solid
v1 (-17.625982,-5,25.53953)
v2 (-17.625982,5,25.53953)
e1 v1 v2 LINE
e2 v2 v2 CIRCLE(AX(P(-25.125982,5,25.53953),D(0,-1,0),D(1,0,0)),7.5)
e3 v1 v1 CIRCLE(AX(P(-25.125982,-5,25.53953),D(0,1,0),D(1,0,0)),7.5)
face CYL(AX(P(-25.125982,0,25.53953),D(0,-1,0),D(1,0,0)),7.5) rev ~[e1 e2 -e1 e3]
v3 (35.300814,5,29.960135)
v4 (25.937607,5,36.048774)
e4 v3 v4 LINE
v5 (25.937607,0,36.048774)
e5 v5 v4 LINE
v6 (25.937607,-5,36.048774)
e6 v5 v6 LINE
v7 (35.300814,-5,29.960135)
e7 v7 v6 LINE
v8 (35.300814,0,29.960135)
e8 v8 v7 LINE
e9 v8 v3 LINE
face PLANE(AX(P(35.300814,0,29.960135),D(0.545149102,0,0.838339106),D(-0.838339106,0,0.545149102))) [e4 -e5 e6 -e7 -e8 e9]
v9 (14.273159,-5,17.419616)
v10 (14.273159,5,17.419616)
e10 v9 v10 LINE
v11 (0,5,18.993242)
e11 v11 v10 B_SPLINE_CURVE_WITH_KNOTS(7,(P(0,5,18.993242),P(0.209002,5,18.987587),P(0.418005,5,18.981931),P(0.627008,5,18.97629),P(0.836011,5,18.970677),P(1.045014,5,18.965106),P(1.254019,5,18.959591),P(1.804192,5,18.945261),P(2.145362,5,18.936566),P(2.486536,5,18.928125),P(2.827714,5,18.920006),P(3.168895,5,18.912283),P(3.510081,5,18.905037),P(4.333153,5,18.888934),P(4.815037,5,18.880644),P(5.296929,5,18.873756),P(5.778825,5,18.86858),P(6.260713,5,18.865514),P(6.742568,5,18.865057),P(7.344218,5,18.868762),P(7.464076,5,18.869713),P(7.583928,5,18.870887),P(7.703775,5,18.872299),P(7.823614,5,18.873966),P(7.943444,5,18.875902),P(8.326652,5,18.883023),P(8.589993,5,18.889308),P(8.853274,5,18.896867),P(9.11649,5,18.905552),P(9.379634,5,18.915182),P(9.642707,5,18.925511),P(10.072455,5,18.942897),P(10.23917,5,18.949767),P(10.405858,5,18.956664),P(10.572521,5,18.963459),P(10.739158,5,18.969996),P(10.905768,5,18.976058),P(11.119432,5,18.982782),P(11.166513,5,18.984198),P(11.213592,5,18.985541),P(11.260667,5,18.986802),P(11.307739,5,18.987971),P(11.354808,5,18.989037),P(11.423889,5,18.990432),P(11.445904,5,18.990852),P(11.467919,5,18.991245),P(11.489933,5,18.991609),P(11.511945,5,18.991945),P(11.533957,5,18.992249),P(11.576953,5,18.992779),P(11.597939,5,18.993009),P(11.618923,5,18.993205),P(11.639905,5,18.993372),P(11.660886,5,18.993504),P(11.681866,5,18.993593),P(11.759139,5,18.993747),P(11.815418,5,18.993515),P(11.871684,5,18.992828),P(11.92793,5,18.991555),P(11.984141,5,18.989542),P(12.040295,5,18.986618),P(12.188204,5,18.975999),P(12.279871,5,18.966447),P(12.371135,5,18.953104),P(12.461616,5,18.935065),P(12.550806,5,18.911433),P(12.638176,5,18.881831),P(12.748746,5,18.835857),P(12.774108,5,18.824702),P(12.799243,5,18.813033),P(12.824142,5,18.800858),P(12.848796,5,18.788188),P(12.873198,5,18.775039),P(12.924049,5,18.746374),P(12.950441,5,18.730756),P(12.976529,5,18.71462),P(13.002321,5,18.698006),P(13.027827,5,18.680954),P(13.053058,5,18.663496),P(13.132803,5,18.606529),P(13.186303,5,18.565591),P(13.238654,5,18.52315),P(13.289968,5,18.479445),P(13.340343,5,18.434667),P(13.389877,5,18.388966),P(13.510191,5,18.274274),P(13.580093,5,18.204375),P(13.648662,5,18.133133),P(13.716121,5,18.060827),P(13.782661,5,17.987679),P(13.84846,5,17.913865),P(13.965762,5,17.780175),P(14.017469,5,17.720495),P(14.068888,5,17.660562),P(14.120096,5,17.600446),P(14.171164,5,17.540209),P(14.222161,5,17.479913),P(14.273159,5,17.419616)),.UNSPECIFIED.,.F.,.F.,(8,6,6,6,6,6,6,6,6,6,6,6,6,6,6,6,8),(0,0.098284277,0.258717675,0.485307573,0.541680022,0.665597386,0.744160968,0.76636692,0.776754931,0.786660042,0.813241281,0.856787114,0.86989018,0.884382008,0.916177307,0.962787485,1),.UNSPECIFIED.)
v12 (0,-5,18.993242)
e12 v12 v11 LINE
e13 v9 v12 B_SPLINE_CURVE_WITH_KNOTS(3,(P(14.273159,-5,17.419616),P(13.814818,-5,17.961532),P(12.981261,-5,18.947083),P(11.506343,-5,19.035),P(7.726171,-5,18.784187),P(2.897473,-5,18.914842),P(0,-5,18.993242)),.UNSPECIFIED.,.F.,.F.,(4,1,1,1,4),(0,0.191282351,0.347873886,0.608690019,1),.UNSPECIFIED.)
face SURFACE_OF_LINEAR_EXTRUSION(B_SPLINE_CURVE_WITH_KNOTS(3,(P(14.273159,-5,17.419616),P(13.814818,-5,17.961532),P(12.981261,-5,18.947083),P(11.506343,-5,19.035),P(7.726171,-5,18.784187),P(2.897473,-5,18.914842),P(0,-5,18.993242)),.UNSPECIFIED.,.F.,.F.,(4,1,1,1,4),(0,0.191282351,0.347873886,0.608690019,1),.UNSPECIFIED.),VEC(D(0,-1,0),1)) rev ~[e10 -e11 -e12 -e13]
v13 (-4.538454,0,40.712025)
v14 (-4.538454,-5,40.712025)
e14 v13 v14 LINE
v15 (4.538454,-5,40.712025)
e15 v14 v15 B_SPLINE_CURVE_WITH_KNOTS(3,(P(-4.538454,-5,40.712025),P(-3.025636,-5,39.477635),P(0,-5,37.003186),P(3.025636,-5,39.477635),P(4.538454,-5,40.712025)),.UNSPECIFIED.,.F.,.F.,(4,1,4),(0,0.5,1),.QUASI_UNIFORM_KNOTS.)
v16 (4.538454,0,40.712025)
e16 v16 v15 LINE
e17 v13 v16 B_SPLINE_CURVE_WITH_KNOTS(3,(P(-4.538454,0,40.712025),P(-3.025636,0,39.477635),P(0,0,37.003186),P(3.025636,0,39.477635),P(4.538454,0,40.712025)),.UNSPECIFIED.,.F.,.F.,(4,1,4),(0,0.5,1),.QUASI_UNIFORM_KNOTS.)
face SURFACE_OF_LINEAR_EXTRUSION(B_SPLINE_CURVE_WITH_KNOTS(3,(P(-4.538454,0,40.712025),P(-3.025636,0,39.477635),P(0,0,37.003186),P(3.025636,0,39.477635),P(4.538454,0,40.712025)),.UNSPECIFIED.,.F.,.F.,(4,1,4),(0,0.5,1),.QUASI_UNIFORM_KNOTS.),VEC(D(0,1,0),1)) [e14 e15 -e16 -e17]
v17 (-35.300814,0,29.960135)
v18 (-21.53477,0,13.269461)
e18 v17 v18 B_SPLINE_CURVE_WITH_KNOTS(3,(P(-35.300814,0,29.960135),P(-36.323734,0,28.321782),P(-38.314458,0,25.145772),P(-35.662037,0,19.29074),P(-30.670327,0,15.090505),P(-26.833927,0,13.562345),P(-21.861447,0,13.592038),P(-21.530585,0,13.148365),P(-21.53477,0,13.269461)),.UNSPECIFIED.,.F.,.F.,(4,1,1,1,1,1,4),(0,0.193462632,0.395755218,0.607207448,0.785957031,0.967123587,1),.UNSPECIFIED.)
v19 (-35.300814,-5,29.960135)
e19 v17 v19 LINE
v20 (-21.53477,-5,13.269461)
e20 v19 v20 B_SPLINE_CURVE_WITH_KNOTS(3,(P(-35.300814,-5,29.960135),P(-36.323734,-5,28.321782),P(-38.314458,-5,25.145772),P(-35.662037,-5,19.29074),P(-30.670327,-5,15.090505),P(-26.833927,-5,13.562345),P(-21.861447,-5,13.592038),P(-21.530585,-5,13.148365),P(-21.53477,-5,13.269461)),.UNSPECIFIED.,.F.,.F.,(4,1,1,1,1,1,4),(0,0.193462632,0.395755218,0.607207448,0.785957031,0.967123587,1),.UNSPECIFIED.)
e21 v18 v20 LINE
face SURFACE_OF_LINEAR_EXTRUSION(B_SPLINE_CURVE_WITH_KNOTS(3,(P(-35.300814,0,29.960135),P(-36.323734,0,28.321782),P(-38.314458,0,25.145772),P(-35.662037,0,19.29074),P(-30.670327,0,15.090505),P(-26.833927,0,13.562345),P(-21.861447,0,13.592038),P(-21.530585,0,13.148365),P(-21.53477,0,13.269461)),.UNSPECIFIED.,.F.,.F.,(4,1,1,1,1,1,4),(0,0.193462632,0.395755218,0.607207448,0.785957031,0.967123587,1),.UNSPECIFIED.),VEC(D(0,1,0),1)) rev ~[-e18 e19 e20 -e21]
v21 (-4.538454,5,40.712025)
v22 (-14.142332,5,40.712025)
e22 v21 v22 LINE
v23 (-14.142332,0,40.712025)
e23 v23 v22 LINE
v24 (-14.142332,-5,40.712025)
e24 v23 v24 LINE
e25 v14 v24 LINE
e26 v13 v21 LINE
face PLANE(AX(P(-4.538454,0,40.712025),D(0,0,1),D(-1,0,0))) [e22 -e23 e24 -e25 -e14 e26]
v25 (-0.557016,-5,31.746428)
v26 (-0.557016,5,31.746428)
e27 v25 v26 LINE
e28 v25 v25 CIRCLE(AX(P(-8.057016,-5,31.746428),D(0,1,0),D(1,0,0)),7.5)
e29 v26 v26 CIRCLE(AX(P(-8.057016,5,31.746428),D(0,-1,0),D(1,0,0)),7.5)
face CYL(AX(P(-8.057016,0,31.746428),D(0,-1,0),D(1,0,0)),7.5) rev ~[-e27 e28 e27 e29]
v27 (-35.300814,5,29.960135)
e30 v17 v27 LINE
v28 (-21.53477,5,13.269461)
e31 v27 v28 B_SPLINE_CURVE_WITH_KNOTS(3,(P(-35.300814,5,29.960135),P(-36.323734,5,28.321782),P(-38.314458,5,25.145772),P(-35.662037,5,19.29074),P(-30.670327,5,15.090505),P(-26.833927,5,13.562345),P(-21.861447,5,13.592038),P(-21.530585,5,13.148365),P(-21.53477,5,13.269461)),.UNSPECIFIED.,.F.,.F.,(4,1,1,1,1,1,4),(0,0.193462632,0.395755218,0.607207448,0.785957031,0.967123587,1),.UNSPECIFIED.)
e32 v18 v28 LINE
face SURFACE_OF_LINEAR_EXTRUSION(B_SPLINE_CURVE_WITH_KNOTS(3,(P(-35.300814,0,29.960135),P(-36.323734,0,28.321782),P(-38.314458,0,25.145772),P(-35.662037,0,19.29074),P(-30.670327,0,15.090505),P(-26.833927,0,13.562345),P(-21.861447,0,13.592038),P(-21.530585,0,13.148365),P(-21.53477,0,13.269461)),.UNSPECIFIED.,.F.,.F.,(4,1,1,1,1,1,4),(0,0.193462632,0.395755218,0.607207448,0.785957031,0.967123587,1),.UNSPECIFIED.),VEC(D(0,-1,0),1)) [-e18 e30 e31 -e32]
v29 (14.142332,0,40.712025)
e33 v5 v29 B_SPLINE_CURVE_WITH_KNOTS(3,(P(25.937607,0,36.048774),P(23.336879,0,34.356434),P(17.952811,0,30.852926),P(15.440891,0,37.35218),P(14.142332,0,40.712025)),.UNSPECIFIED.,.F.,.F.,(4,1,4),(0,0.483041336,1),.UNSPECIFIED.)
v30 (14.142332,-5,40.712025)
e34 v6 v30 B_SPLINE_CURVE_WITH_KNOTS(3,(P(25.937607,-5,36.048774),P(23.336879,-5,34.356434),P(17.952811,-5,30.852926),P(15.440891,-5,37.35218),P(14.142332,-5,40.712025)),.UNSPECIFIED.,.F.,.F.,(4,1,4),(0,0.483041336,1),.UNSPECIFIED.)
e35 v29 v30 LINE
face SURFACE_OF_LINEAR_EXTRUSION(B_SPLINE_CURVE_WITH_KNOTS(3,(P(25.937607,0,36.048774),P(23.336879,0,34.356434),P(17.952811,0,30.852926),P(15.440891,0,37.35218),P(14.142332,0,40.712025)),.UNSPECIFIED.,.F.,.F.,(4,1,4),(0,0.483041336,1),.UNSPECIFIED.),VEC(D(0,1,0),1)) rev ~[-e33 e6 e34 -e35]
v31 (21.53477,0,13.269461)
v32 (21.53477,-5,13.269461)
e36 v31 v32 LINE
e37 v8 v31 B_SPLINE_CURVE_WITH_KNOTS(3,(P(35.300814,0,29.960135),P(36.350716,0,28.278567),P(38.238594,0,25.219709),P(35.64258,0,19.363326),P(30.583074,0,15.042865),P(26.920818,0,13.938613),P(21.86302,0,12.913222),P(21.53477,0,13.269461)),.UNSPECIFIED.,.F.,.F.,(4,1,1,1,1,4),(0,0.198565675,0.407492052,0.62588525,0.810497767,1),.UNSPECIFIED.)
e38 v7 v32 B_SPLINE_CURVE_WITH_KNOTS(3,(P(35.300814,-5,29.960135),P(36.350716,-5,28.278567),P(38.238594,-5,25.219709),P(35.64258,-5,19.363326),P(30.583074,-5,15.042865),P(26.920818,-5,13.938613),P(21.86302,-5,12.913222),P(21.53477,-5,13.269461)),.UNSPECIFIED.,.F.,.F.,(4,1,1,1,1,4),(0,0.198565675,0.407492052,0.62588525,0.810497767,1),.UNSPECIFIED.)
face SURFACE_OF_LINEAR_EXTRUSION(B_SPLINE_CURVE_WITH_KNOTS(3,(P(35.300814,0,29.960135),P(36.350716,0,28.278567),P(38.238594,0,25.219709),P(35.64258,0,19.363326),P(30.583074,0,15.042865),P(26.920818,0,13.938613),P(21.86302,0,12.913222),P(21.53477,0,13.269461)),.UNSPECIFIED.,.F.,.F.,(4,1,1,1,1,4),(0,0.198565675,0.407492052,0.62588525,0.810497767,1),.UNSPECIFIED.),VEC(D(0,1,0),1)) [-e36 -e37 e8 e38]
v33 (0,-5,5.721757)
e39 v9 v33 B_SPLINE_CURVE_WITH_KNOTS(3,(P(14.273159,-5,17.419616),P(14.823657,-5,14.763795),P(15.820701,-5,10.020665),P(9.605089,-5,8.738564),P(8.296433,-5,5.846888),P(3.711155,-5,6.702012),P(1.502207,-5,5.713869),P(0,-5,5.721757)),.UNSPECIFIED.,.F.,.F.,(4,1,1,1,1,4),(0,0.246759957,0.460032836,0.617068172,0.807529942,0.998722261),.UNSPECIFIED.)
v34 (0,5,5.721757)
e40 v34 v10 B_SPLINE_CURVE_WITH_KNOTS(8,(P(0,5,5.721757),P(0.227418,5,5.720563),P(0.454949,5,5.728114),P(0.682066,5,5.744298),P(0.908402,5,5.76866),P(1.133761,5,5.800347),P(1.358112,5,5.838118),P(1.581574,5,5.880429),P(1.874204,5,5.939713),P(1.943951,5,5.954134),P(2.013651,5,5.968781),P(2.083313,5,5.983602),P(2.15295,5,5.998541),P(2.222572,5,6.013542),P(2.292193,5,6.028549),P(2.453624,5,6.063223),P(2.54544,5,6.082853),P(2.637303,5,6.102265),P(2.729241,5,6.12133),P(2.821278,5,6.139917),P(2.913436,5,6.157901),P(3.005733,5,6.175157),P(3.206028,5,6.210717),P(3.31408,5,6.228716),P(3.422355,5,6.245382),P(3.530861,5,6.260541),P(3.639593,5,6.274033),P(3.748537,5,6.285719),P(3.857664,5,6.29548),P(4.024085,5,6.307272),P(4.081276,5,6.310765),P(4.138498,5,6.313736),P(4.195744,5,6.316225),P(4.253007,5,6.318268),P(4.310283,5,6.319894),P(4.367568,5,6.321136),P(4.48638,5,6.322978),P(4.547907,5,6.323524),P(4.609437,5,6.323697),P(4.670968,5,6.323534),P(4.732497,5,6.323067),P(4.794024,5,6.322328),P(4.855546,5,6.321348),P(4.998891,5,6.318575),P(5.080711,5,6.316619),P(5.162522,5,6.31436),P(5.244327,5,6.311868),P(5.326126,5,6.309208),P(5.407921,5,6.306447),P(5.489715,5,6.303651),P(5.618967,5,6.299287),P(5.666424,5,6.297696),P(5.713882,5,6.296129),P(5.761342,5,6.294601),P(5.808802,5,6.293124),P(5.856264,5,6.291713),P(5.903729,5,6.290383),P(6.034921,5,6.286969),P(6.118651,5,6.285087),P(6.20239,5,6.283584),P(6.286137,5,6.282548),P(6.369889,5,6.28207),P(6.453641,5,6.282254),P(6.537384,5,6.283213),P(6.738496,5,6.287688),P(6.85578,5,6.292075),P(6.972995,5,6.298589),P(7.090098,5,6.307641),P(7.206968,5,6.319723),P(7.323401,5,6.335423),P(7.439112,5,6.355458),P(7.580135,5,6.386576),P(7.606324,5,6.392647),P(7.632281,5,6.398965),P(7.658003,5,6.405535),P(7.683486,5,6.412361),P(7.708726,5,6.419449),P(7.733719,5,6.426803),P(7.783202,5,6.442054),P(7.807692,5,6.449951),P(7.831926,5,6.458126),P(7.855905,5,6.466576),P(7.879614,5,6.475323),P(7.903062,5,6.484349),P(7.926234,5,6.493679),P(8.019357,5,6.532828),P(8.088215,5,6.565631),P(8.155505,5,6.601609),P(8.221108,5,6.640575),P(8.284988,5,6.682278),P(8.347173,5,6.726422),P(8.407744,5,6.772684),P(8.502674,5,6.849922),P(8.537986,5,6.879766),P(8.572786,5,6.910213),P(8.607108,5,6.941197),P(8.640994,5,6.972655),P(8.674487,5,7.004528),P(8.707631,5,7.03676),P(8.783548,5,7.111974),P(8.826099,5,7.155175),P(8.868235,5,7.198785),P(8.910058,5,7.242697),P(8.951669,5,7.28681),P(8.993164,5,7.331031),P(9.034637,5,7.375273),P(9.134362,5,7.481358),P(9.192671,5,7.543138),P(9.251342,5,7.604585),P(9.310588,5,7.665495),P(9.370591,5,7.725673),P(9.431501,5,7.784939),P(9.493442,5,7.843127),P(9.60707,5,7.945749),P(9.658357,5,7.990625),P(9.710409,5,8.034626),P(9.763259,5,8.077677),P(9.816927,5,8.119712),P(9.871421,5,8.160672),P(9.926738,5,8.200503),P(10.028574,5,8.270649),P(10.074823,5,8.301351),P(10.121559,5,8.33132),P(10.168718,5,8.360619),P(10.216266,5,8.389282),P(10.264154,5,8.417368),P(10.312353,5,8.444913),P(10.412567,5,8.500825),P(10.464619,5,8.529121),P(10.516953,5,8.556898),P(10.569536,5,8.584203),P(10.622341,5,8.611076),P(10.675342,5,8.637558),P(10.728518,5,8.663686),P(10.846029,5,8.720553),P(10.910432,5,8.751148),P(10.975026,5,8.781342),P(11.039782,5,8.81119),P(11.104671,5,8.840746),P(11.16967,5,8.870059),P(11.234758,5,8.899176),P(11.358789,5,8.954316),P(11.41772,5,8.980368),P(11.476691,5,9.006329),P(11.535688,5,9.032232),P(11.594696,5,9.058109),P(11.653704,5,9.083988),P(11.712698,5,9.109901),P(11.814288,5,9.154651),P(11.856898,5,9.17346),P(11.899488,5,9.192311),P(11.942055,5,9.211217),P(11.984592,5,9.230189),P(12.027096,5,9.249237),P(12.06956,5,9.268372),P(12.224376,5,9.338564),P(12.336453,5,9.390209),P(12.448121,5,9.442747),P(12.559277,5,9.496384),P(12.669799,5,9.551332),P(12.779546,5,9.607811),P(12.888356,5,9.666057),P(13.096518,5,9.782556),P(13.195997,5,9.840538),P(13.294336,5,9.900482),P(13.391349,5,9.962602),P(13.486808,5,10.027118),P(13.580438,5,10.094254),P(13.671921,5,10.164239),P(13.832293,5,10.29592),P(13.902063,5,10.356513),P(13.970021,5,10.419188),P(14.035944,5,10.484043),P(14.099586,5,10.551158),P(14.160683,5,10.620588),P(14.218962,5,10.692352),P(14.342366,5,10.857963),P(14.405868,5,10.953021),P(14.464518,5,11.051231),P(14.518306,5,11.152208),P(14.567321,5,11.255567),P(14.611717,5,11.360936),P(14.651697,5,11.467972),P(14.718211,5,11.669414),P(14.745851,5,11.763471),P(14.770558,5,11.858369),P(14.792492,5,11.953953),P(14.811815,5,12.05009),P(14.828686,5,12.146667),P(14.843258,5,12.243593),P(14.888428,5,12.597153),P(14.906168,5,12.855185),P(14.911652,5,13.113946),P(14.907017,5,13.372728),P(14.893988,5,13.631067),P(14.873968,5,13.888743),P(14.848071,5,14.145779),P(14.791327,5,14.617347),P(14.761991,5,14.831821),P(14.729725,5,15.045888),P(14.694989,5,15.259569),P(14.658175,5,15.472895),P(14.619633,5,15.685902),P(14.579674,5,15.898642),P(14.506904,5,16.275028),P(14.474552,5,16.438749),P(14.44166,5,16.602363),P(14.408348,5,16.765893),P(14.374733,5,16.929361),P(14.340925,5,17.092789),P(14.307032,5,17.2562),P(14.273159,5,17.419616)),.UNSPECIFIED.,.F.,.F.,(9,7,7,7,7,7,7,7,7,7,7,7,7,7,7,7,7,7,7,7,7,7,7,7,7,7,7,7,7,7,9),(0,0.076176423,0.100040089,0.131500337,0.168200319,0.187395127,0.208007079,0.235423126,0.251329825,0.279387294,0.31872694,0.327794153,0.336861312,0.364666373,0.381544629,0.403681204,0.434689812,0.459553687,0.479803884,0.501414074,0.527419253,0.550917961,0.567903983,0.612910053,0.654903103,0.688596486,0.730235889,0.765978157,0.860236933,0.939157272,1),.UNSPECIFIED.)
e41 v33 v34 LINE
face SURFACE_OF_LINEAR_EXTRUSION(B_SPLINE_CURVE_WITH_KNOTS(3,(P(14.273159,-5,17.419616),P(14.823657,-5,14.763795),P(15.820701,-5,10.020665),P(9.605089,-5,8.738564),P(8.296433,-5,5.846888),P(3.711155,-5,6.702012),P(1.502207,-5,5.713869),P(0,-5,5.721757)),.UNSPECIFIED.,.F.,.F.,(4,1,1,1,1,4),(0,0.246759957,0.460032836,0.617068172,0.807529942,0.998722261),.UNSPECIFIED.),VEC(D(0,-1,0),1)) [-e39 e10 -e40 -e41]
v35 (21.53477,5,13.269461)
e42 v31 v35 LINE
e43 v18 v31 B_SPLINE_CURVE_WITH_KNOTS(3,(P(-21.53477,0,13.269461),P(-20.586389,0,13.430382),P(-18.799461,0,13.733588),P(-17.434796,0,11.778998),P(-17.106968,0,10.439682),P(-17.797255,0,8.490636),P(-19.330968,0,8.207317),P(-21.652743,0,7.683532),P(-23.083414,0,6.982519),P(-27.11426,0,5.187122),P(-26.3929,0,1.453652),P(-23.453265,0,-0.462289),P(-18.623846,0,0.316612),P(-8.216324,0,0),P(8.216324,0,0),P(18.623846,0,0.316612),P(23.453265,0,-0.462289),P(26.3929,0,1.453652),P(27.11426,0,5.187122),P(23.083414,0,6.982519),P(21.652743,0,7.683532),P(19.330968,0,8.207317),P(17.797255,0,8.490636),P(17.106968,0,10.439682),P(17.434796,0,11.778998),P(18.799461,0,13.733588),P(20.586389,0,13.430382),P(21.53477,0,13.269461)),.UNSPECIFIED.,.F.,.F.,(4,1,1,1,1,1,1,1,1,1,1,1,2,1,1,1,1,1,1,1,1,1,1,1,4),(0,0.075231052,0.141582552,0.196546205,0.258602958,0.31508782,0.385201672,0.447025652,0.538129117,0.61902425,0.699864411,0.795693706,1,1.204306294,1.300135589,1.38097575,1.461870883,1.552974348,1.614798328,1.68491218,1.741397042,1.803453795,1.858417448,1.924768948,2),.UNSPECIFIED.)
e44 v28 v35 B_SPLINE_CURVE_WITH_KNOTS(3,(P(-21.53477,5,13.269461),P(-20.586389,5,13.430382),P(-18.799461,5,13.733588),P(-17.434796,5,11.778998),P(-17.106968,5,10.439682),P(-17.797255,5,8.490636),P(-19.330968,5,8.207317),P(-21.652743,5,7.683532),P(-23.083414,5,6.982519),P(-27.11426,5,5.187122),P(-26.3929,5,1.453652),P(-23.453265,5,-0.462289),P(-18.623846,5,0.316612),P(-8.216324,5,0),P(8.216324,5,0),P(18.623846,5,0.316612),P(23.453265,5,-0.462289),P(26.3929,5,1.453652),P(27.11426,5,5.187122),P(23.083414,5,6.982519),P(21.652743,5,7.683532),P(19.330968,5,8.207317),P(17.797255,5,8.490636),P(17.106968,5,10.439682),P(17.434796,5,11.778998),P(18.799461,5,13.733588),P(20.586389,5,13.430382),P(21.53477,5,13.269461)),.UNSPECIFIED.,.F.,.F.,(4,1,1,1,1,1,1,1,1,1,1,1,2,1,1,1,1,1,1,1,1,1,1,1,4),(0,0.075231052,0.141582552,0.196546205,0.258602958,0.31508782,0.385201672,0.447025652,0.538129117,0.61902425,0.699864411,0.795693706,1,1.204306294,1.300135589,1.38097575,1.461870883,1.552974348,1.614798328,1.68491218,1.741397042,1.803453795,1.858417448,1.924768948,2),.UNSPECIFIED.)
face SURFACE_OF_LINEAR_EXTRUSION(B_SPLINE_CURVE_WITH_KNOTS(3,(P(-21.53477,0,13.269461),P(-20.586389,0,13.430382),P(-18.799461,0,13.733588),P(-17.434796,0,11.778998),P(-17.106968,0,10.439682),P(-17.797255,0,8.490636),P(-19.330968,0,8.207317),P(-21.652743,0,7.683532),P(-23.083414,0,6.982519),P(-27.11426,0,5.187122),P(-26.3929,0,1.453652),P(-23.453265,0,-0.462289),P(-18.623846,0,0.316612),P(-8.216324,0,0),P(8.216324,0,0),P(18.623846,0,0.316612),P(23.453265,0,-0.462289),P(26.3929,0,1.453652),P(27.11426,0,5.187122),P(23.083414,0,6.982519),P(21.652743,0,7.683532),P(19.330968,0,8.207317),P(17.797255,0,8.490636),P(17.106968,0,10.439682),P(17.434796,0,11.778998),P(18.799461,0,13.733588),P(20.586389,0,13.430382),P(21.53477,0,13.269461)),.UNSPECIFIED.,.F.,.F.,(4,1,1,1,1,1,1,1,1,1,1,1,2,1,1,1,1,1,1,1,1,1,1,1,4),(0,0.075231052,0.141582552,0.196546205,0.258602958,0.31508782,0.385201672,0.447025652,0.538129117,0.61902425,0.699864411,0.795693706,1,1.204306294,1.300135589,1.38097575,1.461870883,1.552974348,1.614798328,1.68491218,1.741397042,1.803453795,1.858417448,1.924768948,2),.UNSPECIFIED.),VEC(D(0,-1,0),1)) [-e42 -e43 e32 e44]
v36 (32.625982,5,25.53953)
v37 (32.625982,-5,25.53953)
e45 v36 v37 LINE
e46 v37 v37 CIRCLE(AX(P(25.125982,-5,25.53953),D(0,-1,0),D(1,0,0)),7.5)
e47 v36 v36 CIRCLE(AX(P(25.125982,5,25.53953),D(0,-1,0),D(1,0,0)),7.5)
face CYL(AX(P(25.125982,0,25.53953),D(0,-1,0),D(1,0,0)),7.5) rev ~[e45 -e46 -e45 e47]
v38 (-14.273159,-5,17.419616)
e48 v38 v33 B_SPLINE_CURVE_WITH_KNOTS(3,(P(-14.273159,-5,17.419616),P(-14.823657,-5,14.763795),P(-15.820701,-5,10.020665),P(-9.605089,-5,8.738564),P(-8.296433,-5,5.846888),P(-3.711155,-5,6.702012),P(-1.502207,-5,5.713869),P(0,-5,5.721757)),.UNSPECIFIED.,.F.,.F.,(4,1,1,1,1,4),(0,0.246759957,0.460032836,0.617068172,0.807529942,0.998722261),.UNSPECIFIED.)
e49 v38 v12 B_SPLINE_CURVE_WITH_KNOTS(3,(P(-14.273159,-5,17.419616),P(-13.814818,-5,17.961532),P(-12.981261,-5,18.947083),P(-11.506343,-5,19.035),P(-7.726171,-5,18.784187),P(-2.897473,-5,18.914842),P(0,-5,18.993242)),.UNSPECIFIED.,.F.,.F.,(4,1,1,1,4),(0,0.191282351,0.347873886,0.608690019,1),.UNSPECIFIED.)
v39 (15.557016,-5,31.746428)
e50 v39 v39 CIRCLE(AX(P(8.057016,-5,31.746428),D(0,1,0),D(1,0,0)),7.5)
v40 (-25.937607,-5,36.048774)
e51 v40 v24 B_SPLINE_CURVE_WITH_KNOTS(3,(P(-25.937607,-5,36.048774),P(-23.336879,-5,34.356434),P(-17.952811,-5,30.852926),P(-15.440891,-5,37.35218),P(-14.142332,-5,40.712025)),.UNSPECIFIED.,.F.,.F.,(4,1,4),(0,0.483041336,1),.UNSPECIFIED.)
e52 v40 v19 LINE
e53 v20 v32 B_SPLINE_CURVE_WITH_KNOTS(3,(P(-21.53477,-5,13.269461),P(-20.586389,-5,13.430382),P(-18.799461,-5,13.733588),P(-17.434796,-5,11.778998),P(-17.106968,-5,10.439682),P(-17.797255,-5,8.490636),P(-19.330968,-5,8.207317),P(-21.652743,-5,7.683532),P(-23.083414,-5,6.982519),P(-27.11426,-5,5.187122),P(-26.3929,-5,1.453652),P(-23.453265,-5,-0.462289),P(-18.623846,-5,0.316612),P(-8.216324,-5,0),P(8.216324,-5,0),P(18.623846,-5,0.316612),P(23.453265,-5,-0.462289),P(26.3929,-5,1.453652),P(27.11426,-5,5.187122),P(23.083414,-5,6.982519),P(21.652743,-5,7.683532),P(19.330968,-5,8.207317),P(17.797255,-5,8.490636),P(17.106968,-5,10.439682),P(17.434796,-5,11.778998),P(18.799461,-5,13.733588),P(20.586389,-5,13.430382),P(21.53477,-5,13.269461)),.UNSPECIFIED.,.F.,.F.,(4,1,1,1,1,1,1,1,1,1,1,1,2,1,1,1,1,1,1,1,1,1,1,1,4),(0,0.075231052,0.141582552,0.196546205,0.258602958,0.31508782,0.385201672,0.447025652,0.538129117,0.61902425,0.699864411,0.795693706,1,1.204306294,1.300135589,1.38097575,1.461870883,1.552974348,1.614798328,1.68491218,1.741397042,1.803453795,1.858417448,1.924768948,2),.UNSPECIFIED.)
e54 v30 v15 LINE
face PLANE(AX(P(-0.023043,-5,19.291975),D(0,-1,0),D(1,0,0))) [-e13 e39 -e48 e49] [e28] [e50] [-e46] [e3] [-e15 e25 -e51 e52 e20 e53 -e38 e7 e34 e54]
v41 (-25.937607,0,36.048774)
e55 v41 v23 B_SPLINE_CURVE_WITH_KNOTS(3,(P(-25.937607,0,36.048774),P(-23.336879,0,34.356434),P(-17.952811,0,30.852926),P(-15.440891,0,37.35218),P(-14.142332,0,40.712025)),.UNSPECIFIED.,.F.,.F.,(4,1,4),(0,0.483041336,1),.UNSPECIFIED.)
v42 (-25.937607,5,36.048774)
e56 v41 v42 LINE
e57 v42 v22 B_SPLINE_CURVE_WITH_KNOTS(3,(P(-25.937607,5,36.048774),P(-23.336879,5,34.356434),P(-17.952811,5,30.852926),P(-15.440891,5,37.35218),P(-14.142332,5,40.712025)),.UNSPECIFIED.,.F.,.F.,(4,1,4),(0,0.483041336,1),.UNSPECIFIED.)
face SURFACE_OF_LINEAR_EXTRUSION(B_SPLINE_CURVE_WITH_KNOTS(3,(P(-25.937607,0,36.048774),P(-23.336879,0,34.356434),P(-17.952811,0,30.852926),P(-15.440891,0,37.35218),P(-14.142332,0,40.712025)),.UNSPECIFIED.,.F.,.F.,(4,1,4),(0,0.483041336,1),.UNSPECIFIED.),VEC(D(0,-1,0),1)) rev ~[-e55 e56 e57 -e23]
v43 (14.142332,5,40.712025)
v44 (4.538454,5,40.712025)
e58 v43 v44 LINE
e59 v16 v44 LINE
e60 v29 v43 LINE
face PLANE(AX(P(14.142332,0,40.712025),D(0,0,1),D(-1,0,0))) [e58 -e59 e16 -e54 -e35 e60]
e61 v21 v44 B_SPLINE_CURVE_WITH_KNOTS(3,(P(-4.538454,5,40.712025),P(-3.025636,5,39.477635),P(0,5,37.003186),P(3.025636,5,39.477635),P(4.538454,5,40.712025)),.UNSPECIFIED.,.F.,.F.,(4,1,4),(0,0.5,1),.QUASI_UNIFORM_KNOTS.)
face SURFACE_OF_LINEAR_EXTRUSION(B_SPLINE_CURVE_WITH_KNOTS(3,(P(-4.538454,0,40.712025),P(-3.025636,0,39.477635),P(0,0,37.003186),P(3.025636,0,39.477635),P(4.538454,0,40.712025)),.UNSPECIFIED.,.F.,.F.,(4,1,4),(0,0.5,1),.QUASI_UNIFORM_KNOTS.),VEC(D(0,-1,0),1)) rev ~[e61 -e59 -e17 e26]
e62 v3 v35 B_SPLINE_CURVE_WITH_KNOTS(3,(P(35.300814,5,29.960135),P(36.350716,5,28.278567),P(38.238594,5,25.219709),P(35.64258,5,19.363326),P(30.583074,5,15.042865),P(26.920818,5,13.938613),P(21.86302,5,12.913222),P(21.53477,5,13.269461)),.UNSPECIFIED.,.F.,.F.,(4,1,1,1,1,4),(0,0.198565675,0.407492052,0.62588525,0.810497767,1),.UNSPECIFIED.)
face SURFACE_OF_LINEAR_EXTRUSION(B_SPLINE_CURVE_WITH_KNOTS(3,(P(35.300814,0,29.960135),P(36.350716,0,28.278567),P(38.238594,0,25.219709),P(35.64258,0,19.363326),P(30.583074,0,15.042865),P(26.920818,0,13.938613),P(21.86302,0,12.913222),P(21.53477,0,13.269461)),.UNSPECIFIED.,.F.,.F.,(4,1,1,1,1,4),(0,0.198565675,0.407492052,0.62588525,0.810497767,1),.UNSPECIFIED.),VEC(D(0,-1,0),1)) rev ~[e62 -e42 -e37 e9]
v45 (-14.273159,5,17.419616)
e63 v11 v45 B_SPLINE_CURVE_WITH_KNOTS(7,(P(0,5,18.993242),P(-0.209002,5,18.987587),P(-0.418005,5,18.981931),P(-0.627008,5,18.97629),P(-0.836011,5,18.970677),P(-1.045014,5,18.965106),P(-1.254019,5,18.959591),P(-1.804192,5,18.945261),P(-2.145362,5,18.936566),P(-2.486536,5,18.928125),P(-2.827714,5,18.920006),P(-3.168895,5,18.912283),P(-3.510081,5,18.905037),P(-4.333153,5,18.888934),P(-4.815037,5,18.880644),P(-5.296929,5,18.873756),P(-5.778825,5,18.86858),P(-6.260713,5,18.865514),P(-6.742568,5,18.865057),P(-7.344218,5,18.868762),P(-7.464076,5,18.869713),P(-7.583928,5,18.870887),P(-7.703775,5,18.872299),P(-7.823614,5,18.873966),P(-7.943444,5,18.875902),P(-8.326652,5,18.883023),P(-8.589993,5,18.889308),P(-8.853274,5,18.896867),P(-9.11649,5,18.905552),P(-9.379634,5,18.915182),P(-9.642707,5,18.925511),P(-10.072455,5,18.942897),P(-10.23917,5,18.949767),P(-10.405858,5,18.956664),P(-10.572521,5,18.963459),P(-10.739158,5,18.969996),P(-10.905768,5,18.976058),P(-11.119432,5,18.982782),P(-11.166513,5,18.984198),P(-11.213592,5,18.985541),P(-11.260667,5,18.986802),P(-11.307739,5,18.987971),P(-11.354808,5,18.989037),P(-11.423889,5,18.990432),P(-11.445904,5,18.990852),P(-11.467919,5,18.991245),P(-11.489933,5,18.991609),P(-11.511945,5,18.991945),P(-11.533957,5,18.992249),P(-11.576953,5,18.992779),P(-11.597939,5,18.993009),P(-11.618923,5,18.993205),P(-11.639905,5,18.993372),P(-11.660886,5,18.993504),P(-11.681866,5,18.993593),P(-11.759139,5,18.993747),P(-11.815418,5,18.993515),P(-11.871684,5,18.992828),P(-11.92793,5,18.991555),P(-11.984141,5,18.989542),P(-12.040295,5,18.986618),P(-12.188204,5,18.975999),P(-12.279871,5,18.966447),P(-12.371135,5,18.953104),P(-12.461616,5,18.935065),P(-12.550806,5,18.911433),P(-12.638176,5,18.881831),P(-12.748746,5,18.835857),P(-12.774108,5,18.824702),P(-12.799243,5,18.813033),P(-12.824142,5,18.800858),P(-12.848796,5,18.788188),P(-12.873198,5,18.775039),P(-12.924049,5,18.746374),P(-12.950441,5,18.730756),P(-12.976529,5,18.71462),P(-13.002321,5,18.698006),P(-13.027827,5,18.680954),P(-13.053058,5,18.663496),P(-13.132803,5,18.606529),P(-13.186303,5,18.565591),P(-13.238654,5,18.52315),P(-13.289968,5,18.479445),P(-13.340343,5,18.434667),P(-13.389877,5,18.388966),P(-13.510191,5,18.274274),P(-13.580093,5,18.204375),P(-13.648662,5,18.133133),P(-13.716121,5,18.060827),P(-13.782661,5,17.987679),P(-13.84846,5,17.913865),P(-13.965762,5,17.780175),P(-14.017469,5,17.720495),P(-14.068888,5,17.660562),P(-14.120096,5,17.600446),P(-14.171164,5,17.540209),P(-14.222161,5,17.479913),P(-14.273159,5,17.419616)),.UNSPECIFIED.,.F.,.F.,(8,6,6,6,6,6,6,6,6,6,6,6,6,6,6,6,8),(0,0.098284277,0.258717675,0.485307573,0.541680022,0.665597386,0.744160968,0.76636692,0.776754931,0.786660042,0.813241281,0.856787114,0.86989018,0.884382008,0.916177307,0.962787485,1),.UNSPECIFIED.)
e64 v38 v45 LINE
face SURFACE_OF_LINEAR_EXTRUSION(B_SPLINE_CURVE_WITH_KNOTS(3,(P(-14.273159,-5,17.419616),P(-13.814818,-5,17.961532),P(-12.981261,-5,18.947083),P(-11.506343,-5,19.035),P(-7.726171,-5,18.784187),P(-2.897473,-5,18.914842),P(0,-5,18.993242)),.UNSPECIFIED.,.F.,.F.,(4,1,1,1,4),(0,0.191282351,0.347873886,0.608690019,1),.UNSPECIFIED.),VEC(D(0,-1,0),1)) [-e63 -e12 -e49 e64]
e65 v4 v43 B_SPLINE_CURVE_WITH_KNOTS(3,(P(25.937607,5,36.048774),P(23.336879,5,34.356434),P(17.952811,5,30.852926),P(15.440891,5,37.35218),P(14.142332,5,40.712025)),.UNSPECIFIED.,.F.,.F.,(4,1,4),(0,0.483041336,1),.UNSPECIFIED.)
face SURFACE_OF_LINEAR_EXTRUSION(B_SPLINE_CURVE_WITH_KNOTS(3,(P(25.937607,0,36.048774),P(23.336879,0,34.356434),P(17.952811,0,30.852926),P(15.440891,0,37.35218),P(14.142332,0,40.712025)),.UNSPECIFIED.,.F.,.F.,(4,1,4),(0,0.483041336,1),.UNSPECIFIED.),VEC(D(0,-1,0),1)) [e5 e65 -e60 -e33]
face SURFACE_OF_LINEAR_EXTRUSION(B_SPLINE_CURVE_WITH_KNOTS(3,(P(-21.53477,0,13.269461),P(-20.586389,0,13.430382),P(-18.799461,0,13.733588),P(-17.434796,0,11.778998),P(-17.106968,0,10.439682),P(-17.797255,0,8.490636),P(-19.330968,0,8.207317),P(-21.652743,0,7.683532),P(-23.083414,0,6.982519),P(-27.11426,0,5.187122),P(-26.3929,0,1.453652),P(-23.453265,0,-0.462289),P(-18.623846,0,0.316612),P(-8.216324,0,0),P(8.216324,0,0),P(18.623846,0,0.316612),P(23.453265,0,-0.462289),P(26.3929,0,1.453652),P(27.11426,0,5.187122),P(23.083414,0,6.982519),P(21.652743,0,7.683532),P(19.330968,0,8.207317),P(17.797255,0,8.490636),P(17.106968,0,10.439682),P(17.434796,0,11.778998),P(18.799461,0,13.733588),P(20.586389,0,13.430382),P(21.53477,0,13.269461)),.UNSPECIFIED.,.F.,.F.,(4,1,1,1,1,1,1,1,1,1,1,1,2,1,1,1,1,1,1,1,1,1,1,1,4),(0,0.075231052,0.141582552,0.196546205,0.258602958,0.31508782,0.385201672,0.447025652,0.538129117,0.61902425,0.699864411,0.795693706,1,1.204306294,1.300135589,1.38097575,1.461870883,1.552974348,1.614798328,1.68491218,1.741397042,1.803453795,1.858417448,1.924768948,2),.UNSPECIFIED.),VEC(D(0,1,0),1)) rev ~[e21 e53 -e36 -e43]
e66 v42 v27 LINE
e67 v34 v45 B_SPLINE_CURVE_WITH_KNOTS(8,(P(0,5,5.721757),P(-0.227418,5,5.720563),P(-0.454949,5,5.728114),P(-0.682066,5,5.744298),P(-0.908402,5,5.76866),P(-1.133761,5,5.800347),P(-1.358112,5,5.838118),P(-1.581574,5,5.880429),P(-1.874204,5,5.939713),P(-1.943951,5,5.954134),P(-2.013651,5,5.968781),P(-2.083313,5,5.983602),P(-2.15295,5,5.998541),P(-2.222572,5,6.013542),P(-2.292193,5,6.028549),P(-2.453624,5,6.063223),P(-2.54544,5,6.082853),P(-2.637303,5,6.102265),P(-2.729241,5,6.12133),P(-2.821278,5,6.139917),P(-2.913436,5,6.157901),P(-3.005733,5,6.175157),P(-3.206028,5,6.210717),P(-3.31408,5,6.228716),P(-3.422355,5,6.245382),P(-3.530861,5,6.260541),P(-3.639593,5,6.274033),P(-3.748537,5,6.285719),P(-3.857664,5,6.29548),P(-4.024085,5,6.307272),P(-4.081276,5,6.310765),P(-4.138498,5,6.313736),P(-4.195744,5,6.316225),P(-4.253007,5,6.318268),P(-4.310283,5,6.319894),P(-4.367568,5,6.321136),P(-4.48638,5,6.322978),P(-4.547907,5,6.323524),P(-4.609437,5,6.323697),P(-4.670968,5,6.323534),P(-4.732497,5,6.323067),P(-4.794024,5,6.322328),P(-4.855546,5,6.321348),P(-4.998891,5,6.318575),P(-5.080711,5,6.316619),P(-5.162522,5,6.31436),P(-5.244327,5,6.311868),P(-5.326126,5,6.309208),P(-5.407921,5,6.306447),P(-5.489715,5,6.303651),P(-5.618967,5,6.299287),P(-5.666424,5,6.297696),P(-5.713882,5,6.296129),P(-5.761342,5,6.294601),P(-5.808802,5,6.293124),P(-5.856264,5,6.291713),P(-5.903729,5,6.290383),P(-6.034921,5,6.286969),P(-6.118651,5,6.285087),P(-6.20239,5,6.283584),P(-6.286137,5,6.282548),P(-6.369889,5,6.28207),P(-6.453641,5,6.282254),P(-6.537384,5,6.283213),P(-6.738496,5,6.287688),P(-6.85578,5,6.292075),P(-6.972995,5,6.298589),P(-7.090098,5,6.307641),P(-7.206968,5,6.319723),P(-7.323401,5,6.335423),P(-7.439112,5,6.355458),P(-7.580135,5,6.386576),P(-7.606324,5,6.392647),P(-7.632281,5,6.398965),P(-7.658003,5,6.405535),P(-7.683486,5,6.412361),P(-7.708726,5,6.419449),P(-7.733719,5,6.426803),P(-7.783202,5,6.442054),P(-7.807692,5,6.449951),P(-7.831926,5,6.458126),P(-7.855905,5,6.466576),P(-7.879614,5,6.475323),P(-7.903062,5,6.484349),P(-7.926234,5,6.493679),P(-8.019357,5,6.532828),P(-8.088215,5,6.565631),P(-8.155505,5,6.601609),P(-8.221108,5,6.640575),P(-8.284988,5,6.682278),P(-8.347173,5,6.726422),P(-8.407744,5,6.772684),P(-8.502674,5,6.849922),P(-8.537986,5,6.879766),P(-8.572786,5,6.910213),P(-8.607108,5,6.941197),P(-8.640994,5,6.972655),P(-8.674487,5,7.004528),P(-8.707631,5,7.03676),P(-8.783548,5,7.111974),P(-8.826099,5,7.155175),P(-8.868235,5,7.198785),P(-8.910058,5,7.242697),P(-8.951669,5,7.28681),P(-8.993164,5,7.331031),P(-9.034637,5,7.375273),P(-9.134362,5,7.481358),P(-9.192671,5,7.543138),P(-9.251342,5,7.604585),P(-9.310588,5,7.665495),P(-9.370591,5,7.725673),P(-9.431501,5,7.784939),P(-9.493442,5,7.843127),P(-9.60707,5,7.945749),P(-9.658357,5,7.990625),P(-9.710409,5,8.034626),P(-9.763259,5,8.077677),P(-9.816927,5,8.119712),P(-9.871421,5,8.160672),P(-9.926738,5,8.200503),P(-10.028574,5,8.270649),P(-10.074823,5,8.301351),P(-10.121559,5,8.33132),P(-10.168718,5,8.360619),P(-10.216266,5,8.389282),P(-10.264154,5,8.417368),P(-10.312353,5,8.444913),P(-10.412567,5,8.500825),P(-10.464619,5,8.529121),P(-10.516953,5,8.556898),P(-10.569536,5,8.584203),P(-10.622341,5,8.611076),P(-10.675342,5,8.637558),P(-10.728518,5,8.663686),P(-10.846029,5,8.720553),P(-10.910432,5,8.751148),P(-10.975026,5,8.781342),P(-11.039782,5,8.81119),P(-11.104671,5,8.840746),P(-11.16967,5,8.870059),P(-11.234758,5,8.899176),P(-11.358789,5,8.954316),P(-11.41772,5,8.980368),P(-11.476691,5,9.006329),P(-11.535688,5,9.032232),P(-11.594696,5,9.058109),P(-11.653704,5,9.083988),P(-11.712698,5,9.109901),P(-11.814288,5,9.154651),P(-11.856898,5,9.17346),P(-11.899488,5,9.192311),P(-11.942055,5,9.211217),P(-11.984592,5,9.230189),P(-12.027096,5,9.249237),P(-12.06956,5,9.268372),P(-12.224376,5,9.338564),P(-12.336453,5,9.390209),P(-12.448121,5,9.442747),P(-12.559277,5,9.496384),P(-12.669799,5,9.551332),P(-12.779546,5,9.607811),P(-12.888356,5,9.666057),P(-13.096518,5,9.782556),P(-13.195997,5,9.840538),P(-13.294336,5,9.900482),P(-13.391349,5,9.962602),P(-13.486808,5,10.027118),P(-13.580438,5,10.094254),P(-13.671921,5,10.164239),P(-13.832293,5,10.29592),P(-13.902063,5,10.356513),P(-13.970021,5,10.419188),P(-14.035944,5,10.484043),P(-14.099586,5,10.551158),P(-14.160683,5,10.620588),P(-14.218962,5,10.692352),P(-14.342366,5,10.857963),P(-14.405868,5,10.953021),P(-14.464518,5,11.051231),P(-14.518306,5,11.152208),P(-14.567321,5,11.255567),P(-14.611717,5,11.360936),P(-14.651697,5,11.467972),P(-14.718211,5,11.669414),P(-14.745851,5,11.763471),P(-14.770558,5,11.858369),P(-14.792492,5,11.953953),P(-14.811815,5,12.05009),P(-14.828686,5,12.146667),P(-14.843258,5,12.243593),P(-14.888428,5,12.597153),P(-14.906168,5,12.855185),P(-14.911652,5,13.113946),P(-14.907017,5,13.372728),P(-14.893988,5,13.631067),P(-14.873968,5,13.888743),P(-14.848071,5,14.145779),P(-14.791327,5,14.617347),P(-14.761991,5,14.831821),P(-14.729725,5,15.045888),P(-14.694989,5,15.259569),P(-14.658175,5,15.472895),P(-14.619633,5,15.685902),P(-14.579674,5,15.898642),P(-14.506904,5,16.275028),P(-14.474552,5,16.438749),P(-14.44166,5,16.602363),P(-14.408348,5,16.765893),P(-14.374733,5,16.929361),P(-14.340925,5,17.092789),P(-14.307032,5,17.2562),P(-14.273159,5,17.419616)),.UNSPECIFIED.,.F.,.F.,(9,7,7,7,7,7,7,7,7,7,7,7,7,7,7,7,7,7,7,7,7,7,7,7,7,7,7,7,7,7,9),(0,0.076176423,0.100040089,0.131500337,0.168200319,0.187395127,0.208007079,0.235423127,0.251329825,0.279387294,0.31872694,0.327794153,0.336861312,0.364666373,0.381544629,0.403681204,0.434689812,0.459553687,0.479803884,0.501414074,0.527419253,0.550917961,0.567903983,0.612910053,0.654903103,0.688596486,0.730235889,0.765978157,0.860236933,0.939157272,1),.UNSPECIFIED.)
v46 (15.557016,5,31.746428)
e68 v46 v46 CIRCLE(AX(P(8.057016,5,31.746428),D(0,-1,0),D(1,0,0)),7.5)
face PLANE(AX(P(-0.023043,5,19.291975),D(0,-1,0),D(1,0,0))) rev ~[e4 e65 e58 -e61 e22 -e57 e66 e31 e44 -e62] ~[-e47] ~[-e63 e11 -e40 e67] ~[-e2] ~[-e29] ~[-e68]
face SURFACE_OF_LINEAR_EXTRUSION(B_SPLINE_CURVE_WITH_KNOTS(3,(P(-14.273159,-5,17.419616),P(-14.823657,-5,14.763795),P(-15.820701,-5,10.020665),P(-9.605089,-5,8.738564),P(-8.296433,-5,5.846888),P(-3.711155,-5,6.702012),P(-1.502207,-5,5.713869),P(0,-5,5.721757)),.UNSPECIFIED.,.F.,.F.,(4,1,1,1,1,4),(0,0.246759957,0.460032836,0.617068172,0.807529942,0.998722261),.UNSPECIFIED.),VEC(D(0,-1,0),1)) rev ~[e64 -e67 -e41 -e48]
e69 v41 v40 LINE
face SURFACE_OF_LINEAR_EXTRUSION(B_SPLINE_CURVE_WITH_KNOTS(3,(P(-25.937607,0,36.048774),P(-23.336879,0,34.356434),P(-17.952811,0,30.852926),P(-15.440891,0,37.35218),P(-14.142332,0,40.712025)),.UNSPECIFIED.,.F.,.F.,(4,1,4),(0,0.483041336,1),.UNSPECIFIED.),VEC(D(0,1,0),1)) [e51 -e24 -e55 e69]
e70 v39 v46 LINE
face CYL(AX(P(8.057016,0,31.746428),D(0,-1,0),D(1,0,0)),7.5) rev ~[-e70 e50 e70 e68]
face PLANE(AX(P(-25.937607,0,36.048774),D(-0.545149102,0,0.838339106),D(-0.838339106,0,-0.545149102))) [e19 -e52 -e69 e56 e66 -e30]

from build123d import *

# Parameters (mm, degrees)
F2_DEPTH = 5
F0_R     = 7.5
F3_DEPTH = 35.3
F5_DEPTH = 25


with BuildPart() as f2:
    # F1 (on Front) → F2 (new body, symmetric)
    with BuildSketch(Plane.XZ):
        with BuildLine():
            Line((-25.9376069811, 36.0487736567), (-35.3008142413, 29.9601348244))
            add(Edge.make_bspline(
                [(-35.3008142413, 29.9601348244), (-36.3237337536, 28.3217823731), (-38.3144583559, 25.1457721842), (-35.6620369665, 19.290740362), (-30.6703266368, 15.0905045369), (-26.8339267906, 13.5623448249), (-21.8614474141, 13.5920382471), (-21.5305853635, 13.148364611), (-21.5347700112, 13.2694611134)],
                knots=[0, 0, 0, 0, 0.1934626319, 0.3957552181, 0.6072074482, 0.785957031, 0.9671235873, 1, 1, 1, 1], degree=3))
            add(Edge.make_bspline(
                [(-21.5347700112, 13.2694611134), (-20.5863890801, 13.4303823269), (-18.7994612495, 13.7335877825), (-17.4347958478, 11.7789978997), (-17.1069678077, 10.4396824506), (-17.7972547008, 8.4906363466), (-19.3309676409, 8.2073172182), (-21.6527425772, 7.6835322606), (-23.0834138774, 6.9825186494), (-27.1142603351, 5.1871219274), (-26.3928995249, 1.4536516328), (-23.4532646942, -0.462288593), (-18.623846388, 0.3166118767), (-8.2163242623, 0), (0, 0)],
                knots=[0, 0, 0, 0, 0.075231052, 0.1415825521, 0.196546205, 0.2586029578, 0.3150878204, 0.3852016718, 0.4470256517, 0.5381291166, 0.6190242497, 0.6998644113, 0.795693706, 1, 1, 1, 1], degree=3))
            add(Edge.make_bspline(
                [(21.5347700112, 13.2694611134), (20.5863890801, 13.4303823269), (18.7994612495, 13.7335877825), (17.4347958478, 11.7789978997), (17.1069678077, 10.4396824506), (17.7972547008, 8.4906363466), (19.3309676409, 8.2073172182), (21.6527425772, 7.6835322606), (23.0834138774, 6.9825186494), (27.1142603351, 5.1871219274), (26.3928995249, 1.4536516328), (23.4532646942, -0.462288593), (18.623846388, 0.3166118767), (8.2163242623, 0), (0, 0)],
                knots=[0, 0, 0, 0, 0.075231052, 0.1415825521, 0.196546205, 0.2586029578, 0.3150878204, 0.3852016718, 0.4470256517, 0.5381291166, 0.6190242497, 0.6998644113, 0.795693706, 1, 1, 1, 1], degree=3))
            add(Edge.make_bspline(
                [(35.3008142413, 29.9601348244), (36.3507157185, 28.2785668827), (38.2385938322, 25.219708946), (35.6425801623, 19.3633264059), (30.5830741597, 15.0428649893), (26.9208177609, 13.9386133826), (21.8630198087, 12.9132219025), (21.5347700112, 13.2694611134)],
                knots=[0, 0, 0, 0, 0.1985656746, 0.4074920517, 0.6258852504, 0.8104977669, 1, 1, 1, 1], degree=3))
            Line((35.3008142413, 29.9601348244), (25.9376069811, 36.0487736567))
            add(Edge.make_bspline(
                [(25.9376069811, 36.0487736567), (23.3368794757, 34.3564344556), (17.9528112604, 30.8529264243), (15.4408910059, 37.3521797056), (14.1423320677, 40.7120249971)],
                knots=[0, 0, 0, 0, 0.4830413363, 1, 1, 1, 1], degree=3))
            Line((14.1423320677, 40.7120249971), (4.5384541154, 40.7120249971))
            add(Edge.make_bspline(
                [(-4.5384541154, 40.7120249971), (-3.0256360769, 39.4776351556), (0, 37.0031856195), (3.0256360769, 39.4776351556), (4.5384541154, 40.7120249971)],
                knots=[0, 0, 0, 0, 0.5, 1, 1, 1, 1], degree=3))
            Line((-4.5384541154, 40.7120249971), (-14.1423320677, 40.7120249971))
            add(Edge.make_bspline(
                [(-25.9376069811, 36.0487736567), (-23.3368794757, 34.3564344556), (-17.9528112604, 30.8529264243), (-15.4408910059, 37.3521797056), (-14.1423320677, 40.7120249971)],
                knots=[0, 0, 0, 0, 0.4830413363, 1, 1, 1, 1], degree=3))
        make_face()
    extrude(amount=F2_DEPTH, both=True)

    # F0 (on Front) → F3 (cut, symmetric)
    with BuildSketch(Plane.XZ):
        with Locations((-8.057015948, 31.7464284599)):
            Circle(F0_R)
        with Locations((-25.1259822398, 25.5395304412)):
            Circle(F0_R)
        with Locations((8.057015948, 31.7464284599)):
            Circle(F0_R)
        with Locations((25.1259822398, 25.5395304412)):
            Circle(F0_R)
    extrude(amount=F3_DEPTH, both=True, mode=Mode.SUBTRACT)

    # F4 (on face) → F5 (cut)
    with BuildSketch(Plane.XZ.offset(5)):
        with BuildLine():
            add(Edge.make_bspline(
                [(-14.2731592059, 17.4196157604), (-13.8148184411, 17.9615319918), (-12.9812612328, 18.9470829523), (-11.5063433704, 19.0349995975), (-7.7261707008, 18.7841874745), (-2.8974728043, 18.9148420766), (0, 18.9932417125)],
                knots=[0, 0, 0, 0, 0.1912823513, 0.3478738856, 0.6086900192, 1, 1, 1, 1], degree=3))
            add(Edge.make_bspline(
                [(-14.2731592059, 17.4196157604), (-14.8236574181, 14.7637948773), (-15.8207013406, 10.0206645675), (-9.6050888203, 8.738563978), (-8.2964333962, 5.846887606), (-3.7111548152, 6.7020117366), (-1.5022065813, 5.7138685381), (0, 5.7217567648)],
                knots=[0, 0, 0, 0, 0.2467599568, 0.4600328364, 0.6170681723, 0.8075299416, 0.9987222613, 0.9987222613, 0.9987222613, 0.9987222613], degree=3))
            add(Edge.make_bspline(
                [(14.2731592059, 17.4196157604), (14.8236574181, 14.7637948773), (15.8207013406, 10.0206645675), (9.6050888203, 8.738563978), (8.2964333962, 5.846887606), (3.7111548152, 6.7020117366), (1.5022065813, 5.7138685381), (0, 5.7217567648)],
                knots=[0, 0, 0, 0, 0.2467599568, 0.4600328364, 0.6170681723, 0.8075299416, 0.9987222613, 0.9987222613, 0.9987222613, 0.9987222613], degree=3))
            add(Edge.make_bspline(
                [(14.2731592059, 17.4196157604), (13.8148184411, 17.9615319918), (12.9812612328, 18.9470829523), (11.5063433704, 19.0349995975), (7.7261707008, 18.7841874745), (2.8974728043, 18.9148420766), (0, 18.9932417125)],
                knots=[0, 0, 0, 0, 0.1912823513, 0.3478738856, 0.6086900192, 1, 1, 1, 1], degree=3))
        make_face()
    extrude(amount=-F5_DEPTH, mode=Mode.SUBTRACT)


solid = f2.part
